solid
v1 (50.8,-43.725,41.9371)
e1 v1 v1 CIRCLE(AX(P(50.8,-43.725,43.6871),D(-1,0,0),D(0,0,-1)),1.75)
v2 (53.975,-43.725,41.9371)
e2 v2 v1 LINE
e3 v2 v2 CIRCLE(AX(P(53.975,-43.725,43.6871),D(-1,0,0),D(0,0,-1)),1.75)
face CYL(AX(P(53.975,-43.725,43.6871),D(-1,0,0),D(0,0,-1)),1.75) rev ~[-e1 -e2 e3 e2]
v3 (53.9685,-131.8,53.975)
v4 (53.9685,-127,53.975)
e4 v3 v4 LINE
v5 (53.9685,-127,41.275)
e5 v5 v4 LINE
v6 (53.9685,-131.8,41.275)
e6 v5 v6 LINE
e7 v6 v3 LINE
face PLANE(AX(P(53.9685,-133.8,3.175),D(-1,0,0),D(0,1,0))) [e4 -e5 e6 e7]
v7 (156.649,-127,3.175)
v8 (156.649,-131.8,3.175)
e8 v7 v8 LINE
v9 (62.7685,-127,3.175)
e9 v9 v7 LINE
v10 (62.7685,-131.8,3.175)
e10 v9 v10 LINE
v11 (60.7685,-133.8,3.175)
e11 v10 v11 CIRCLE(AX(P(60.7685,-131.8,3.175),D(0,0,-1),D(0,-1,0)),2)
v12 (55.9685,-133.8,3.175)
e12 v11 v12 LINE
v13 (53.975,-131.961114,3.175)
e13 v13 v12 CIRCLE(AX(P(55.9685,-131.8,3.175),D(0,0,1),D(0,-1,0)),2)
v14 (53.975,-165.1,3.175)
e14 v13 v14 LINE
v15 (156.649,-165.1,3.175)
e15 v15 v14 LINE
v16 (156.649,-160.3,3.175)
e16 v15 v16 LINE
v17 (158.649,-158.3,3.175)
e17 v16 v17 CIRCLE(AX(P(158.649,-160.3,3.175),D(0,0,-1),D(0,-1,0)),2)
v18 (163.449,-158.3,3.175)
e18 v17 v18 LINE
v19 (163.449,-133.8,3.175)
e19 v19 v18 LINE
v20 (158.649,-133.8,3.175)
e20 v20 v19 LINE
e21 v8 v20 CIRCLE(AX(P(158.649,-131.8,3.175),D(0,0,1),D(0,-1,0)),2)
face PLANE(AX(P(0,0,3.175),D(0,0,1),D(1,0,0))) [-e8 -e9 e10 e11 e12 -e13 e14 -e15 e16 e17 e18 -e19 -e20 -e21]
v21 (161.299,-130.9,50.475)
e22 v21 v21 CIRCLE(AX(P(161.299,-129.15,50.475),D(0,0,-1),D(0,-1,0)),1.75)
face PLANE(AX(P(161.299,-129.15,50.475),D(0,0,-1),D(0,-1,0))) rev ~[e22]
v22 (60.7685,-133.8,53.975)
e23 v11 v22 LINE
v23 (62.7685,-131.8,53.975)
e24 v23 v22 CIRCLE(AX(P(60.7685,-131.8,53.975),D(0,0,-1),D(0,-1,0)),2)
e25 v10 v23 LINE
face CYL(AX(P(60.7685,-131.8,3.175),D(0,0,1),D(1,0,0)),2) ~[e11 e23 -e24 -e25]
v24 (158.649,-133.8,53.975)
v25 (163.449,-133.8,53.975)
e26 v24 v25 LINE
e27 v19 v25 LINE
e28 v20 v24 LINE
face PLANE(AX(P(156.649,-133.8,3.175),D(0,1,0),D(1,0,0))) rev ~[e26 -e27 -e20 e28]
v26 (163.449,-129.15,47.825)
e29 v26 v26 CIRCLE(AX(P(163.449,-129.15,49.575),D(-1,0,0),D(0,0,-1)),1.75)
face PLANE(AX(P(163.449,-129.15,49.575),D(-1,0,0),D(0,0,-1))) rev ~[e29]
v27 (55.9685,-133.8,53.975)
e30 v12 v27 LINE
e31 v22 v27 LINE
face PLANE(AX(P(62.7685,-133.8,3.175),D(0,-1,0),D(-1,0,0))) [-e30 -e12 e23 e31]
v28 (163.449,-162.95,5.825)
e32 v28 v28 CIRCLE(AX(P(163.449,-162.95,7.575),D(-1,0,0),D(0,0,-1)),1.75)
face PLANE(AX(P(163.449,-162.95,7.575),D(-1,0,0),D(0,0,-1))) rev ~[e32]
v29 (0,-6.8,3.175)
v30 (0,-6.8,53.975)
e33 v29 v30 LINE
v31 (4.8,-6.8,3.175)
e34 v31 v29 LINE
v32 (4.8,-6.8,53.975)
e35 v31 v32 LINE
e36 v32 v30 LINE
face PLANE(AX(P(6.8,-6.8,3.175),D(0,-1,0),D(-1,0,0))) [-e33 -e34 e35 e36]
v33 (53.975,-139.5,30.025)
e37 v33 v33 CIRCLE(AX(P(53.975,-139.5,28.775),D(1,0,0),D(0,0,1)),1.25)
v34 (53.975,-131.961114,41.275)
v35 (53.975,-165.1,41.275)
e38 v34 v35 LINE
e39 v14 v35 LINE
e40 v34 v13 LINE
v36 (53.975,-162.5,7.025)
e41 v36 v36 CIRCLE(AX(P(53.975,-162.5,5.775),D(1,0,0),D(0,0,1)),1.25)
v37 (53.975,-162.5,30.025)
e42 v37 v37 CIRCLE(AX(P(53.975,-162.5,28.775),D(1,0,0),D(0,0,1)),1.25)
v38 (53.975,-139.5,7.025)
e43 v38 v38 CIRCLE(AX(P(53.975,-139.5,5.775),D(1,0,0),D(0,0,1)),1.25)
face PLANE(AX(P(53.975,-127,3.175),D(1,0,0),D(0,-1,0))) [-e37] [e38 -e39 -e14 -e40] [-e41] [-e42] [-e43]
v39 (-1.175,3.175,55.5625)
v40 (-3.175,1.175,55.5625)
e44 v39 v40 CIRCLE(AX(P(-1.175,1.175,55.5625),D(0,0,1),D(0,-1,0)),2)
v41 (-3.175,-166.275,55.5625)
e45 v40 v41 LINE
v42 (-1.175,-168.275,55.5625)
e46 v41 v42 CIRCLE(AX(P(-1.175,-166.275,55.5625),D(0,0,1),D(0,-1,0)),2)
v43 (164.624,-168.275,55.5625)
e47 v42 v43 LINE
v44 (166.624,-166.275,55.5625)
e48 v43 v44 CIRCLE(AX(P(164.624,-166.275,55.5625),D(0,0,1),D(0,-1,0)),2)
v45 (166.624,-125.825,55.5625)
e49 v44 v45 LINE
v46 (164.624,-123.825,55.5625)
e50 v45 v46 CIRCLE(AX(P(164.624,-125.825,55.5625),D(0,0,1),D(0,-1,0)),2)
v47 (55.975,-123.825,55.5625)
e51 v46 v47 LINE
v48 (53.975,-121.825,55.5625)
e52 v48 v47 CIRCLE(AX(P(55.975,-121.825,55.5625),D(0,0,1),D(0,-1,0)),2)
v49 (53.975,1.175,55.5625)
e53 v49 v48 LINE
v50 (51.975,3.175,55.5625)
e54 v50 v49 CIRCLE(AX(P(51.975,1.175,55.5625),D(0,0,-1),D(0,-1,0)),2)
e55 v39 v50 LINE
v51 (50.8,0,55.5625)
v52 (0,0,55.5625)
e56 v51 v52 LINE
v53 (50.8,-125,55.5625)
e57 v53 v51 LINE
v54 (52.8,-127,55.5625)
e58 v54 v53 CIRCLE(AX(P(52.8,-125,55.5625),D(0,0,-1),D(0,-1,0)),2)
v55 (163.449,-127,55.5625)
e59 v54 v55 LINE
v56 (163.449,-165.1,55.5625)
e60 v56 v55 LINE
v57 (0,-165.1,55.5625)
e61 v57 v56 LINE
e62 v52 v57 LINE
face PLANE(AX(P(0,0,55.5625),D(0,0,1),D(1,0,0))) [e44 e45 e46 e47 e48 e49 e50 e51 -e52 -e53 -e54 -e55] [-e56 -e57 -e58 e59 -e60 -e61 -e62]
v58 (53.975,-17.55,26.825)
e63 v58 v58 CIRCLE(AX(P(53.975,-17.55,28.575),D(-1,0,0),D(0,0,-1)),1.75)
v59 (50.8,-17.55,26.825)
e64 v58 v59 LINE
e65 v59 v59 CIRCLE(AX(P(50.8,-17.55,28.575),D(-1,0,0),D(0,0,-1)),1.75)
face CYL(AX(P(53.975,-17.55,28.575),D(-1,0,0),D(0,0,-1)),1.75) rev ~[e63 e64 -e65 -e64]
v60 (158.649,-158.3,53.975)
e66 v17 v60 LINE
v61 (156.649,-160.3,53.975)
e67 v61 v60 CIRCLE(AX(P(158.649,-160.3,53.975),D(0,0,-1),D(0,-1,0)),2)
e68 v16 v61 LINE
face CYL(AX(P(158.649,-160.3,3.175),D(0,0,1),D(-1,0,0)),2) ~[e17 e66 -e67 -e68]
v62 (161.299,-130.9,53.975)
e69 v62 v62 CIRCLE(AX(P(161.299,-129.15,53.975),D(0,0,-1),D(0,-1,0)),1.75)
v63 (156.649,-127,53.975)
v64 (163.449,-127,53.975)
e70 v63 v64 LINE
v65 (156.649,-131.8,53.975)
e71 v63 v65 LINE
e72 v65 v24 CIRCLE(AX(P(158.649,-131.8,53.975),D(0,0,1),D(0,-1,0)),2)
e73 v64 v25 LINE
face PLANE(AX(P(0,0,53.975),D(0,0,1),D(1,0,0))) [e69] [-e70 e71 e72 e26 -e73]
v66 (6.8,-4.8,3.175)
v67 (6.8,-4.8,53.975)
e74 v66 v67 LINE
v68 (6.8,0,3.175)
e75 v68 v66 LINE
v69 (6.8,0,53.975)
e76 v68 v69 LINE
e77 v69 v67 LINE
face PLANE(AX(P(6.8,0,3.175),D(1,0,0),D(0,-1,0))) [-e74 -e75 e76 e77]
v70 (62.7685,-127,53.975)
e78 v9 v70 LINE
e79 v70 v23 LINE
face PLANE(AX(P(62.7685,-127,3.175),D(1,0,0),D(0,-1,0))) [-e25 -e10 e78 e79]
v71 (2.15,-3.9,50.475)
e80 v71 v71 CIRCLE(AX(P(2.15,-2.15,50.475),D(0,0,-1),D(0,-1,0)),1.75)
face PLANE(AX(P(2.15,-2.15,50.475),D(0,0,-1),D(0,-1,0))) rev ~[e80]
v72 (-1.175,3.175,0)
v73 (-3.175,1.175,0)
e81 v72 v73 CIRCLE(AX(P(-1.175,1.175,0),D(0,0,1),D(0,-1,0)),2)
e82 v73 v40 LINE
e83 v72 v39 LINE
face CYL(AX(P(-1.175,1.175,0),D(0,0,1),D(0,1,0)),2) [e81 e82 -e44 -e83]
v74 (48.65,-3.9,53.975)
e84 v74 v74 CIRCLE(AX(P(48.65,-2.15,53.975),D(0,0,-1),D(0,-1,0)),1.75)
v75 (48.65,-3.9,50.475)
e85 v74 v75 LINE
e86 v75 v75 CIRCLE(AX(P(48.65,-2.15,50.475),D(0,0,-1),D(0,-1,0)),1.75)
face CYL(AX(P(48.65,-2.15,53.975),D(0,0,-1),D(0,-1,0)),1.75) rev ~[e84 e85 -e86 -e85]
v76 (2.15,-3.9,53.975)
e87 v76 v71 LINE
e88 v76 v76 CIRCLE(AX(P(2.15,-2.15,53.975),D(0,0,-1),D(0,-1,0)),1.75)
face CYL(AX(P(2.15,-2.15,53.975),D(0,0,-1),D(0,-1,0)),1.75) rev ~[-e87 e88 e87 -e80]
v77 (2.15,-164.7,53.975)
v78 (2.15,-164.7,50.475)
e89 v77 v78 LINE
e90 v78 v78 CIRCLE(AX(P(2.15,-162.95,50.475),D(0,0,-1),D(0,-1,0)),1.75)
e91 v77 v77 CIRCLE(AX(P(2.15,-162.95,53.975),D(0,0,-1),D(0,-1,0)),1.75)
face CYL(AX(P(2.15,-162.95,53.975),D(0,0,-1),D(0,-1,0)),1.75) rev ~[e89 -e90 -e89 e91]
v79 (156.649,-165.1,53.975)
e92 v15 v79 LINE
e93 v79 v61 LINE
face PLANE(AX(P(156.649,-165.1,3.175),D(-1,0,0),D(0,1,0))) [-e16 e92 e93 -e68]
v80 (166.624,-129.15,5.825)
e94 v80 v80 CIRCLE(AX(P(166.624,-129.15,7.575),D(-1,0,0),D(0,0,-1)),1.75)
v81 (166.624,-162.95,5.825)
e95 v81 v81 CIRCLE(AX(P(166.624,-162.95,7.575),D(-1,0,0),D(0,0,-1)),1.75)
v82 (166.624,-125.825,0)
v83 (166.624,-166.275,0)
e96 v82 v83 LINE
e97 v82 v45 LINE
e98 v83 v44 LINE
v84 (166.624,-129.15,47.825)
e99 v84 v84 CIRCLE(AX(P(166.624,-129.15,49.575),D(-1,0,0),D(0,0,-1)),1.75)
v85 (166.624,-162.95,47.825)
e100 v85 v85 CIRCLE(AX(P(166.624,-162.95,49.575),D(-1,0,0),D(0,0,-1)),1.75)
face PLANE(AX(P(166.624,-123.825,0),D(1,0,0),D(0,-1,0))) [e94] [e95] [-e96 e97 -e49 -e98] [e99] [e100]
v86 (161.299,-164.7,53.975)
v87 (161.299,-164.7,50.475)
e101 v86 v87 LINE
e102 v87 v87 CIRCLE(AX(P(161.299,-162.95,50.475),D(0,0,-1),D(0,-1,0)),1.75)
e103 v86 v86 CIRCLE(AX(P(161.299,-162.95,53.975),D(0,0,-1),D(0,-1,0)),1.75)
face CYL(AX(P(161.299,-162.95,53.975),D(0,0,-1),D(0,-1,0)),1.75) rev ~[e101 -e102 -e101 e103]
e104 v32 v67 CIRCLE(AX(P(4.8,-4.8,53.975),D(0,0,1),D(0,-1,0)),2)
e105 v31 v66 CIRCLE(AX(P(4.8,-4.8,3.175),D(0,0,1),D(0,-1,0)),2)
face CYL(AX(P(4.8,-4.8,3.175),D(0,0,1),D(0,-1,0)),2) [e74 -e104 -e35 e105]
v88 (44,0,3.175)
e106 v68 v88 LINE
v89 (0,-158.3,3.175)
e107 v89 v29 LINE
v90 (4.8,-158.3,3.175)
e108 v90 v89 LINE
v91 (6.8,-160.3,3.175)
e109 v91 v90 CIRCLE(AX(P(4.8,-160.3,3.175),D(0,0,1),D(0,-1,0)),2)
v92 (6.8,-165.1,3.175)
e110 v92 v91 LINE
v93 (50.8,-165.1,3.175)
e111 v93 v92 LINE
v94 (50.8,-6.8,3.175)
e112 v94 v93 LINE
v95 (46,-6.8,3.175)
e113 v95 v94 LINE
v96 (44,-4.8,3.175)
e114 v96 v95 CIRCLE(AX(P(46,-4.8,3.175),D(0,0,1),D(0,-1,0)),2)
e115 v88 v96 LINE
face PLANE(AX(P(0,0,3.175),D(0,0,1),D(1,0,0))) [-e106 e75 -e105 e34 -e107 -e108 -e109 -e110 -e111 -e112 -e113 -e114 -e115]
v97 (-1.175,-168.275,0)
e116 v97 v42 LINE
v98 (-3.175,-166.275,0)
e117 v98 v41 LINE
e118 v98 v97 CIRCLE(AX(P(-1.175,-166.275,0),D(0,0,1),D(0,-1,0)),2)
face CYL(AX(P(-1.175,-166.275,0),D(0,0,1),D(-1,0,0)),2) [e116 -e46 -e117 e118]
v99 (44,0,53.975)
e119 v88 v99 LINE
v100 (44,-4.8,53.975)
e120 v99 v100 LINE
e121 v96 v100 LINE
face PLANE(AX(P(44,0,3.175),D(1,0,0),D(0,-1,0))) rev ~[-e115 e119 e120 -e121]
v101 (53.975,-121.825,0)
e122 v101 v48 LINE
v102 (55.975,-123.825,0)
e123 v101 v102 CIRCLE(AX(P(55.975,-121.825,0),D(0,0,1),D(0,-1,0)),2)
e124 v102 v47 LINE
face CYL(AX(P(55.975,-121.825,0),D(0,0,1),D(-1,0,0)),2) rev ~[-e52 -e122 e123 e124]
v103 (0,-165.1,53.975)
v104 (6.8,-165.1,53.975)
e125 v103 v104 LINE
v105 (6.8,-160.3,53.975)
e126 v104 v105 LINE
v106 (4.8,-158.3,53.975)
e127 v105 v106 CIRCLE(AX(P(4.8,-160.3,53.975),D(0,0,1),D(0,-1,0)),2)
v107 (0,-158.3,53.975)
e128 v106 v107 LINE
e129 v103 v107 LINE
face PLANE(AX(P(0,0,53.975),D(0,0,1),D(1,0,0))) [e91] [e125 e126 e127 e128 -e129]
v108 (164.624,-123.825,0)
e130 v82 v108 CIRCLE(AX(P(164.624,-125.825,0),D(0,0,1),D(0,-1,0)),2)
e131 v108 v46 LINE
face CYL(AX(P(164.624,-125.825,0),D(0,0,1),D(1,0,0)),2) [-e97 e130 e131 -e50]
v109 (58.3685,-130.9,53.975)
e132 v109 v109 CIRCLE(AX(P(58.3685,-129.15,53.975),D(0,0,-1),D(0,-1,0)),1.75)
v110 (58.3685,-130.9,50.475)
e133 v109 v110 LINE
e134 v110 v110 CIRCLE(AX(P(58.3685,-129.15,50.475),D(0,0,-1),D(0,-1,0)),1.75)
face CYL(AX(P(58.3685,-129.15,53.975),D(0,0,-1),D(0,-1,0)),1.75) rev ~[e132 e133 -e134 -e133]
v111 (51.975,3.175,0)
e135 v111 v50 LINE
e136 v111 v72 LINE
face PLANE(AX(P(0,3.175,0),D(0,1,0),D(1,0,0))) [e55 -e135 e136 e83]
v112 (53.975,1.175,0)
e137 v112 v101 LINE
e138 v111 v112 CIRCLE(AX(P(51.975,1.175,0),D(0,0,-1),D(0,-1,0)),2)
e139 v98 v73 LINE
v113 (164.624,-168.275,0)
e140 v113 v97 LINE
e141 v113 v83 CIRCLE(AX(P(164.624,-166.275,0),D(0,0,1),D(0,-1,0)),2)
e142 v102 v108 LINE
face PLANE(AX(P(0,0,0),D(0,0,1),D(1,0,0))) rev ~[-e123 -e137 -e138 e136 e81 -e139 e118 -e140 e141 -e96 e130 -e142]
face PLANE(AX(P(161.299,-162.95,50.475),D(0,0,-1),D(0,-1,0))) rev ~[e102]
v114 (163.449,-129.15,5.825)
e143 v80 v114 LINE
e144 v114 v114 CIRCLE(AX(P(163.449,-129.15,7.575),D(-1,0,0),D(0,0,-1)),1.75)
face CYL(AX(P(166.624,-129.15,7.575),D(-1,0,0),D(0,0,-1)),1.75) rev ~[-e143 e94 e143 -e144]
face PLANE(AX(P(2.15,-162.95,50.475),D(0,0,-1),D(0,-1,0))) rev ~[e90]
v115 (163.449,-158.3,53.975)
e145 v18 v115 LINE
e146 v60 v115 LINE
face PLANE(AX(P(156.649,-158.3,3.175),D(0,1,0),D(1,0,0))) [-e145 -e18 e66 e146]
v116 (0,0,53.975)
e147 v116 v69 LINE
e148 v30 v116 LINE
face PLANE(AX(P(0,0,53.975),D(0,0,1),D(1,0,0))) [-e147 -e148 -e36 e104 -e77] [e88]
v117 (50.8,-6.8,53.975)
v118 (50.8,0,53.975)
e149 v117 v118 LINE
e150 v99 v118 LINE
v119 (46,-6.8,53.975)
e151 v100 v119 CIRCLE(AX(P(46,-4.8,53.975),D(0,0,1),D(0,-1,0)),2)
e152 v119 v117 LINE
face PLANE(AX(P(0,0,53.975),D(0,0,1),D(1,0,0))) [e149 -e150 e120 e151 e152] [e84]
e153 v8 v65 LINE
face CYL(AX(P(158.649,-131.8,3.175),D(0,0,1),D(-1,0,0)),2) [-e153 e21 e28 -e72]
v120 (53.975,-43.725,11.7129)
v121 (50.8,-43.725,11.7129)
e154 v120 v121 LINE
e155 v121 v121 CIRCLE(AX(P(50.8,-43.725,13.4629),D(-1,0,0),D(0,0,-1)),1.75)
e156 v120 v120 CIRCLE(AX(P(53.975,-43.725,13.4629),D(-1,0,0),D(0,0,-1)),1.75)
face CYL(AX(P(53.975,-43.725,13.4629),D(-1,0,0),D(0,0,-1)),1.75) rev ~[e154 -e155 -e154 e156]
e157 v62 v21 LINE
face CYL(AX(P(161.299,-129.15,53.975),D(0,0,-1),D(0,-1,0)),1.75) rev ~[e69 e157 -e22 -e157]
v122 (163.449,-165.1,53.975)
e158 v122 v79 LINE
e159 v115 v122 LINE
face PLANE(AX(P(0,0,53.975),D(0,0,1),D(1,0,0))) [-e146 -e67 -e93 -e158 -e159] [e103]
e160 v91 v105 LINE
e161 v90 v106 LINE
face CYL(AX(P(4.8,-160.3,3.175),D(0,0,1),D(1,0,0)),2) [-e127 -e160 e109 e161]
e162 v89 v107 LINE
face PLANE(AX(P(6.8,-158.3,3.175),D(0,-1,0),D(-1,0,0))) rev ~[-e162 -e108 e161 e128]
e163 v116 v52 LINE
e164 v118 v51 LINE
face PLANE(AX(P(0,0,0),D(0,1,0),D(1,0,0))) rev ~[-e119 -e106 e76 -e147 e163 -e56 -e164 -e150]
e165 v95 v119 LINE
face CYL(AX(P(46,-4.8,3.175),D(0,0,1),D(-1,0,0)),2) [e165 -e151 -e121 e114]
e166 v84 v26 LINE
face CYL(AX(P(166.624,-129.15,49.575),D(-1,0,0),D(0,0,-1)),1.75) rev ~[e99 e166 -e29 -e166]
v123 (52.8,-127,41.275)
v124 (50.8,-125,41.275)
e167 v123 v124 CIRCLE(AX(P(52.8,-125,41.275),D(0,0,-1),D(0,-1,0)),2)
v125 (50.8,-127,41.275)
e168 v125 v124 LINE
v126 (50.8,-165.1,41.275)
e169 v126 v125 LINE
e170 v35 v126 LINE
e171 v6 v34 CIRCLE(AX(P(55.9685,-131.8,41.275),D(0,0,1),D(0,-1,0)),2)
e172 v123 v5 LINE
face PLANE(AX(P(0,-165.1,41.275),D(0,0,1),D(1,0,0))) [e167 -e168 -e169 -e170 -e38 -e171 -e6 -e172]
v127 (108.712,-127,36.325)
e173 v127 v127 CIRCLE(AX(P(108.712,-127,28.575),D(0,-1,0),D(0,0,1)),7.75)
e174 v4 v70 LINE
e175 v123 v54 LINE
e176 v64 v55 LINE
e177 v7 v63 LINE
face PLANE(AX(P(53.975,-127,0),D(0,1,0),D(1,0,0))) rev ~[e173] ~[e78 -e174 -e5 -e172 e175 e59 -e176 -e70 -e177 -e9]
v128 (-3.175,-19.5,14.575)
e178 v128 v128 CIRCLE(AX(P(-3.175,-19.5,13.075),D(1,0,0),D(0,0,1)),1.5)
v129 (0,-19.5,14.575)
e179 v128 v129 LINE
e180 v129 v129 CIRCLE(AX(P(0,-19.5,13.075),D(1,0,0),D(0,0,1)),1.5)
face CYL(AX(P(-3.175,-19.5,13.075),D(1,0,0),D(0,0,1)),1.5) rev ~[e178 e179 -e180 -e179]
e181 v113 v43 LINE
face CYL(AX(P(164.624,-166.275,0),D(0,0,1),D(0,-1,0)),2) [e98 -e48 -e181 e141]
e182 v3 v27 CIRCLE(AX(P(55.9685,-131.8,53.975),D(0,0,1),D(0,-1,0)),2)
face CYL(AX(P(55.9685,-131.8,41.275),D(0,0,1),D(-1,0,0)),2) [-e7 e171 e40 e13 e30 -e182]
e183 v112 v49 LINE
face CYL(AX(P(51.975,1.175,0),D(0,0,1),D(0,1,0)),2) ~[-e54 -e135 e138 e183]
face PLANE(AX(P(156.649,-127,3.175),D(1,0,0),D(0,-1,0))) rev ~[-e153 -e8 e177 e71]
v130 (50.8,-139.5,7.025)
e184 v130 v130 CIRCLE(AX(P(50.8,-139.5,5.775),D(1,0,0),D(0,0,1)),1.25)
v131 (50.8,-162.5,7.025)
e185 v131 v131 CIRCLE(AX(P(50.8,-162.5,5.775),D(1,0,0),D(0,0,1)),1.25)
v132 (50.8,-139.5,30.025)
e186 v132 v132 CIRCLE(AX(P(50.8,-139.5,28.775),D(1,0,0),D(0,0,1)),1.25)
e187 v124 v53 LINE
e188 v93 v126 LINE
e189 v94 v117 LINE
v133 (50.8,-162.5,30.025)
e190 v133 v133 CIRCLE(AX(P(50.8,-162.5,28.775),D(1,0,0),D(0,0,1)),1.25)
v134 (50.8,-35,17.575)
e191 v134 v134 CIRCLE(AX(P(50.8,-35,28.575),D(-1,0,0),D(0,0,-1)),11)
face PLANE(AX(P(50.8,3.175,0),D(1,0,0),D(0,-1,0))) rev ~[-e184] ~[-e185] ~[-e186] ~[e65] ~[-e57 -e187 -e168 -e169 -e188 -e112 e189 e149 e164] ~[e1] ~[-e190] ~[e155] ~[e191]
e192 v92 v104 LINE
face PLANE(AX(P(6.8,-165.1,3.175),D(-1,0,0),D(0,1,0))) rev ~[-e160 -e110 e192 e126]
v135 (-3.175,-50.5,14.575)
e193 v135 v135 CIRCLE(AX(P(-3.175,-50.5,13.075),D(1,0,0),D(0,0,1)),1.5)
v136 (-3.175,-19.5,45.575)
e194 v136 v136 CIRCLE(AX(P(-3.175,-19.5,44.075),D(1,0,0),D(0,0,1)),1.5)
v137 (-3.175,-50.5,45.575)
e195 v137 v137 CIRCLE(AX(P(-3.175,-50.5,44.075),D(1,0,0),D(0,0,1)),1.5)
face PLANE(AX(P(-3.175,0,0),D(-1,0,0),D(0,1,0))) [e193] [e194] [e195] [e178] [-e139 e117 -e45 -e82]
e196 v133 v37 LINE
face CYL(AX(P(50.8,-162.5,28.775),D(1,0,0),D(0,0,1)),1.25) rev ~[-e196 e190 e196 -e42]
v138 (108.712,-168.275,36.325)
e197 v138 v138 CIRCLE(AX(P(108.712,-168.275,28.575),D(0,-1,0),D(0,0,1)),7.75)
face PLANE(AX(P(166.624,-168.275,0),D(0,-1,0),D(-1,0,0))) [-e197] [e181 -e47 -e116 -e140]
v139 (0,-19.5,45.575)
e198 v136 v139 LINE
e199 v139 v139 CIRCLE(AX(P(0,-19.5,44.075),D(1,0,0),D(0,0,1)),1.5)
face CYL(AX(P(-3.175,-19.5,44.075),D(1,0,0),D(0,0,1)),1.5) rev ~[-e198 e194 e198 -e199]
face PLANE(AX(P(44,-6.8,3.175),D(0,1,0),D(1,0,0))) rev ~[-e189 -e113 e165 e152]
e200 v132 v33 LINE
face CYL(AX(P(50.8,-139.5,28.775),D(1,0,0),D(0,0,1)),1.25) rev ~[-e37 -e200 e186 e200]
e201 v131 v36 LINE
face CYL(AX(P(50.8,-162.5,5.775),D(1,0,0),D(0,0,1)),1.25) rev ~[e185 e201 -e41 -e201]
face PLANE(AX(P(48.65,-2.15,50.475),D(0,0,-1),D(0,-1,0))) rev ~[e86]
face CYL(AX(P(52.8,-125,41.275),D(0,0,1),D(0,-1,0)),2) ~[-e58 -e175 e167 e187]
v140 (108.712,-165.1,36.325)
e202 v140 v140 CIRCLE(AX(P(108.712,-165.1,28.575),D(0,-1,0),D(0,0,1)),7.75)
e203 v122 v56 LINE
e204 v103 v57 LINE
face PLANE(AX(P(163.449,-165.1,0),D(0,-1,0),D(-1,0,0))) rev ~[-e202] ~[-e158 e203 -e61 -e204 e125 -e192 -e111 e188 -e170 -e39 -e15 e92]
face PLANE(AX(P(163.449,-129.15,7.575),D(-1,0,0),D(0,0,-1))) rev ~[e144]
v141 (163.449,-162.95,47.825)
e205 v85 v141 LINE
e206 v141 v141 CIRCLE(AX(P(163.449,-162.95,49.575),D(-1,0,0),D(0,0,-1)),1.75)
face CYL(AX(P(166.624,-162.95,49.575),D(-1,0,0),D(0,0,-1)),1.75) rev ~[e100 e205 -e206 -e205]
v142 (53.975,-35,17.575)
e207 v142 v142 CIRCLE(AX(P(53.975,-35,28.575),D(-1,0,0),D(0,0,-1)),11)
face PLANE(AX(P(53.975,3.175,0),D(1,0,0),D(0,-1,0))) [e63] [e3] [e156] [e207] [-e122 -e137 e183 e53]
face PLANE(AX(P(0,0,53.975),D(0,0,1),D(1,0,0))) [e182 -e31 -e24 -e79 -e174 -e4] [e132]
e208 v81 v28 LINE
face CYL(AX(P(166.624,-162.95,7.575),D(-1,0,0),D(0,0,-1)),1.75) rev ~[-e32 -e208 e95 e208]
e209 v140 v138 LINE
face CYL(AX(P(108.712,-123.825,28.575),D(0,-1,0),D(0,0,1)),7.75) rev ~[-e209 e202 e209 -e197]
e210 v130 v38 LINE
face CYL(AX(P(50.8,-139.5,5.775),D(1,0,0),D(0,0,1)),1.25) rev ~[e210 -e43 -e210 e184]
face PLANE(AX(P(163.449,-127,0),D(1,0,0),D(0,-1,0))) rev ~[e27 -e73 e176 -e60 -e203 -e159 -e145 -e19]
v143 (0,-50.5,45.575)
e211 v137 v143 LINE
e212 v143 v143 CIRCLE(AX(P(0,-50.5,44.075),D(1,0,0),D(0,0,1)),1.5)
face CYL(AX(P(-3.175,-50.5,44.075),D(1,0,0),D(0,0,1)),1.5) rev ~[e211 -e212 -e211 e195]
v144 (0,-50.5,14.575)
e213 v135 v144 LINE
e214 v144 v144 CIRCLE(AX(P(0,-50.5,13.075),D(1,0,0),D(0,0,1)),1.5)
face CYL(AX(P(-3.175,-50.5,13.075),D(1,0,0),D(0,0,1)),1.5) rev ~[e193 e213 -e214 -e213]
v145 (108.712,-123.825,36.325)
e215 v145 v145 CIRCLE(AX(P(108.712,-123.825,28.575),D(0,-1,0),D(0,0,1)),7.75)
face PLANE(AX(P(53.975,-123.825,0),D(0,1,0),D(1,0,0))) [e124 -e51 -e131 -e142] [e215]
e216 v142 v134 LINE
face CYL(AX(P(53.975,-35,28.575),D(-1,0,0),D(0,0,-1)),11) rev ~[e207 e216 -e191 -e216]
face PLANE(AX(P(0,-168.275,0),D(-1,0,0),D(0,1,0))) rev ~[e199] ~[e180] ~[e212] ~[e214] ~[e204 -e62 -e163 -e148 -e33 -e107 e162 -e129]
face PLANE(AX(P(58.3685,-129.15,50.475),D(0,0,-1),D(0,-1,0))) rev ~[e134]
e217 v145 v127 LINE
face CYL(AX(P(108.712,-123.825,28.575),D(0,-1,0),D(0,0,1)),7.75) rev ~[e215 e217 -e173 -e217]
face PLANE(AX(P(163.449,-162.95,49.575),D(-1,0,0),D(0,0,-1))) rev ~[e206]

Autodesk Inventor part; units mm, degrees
ref_plane "YZ Plane" through (0, 0, 0) normal (1, 0, 0) x (0, 1, 0)
ref_plane "XZ Plane" through (0, 0, 0) normal (0, 1, 0) x (-1, 0, 0)
ref_plane "XY Plane" through (0, 0, 0) normal (0, 0, 1) x (1, 0, 0)
sketch "Sketch2" plane through (0, 0, 0) normal (0, 0, 1) x (1, 0, 0)
  line L0 (0, 0) -> (0, 3.175)
  line L1 (0, 3.175) -> (50.8, 3.175)
  line L2 (50.8, 3.175) -> (53.975, 3.175)
  line L3 (53.975, 3.175) -> (53.975, -123.825)
  line L4 (53.975, -123.825) -> (108.712, -123.825)
  line L5 (108.712, -123.825) -> (163.449, -123.825)
  line L6 (163.449, -123.825) -> (166.624, -123.825)
  line L7 (166.624, -123.825) -> (166.624, -127)
  line L8 (166.624, -127) -> (166.624, -165.1)
  line L9 (166.624, -165.1) -> (166.624, -168.275)
  line L10 (166.624, -168.275) -> (163.449, -168.275)
  line L11 (163.449, -168.275) -> (0, -168.275)
  line L12 (0, -168.275) -> (-3.175, -168.275)
  line L13 (-3.175, -168.275) -> (-3.175, 0)
  line L14 (-3.175, 0) -> (-3.175, 3.175)
  line L15 (-3.175, 3.175) -> (0, 3.175)
  dimension "d6" = 3.175
  dimension "d13" = 3.175
  dimension "d16" = 3.175
extrude "Extrusion1" add sketch "Sketch2" along normal blind 55.5625
shell "Shell1" thickness 3.175 removed faces 1 at (15.875, -97.3667, 55.5625)
sketch "Sketch3" plane through (0, -165.1, 3.175) normal (0, 0, 1) x (1, 0, 0)
  line L0 (50.8, 38.1) -> (163.449, 38.1) projected
  line L1 (163.449, 0) -> (0, 0) projected
  line L2 (50.8, 38.1) -> (53.975, 38.1)
  line L3 (53.975, 38.1) -> (53.975, 0)
  line L4 (53.975, 0) -> (50.8, 0)
  line L5 (50.8, 0) -> (50.8, 38.1)
  point P0 (0, 165.1)
  dimension "d21" = 3.175
extrude "Extrusion2" add sketch "Sketch3" along normal blind 38.1
sketch "Sketch4" plane through (0, 0, 3.175) normal (0, 0, 1) x (1, 0, 0)
  line L0 (0, 0) -> (50.8, 0) projected
  line L1 (0, 0) -> (6.8, 0)
  line L2 (6.8, 0) -> (6.8, -6.8)
  line L3 (6.8, -6.8) -> (0, -6.8)
  line L4 (0, -6.8) -> (0, 0)
  line L5 (50.8, 0) -> (44, 0)
  line L6 (44, 0) -> (44, -6.8)
  line L7 (44, -6.8) -> (50.8, -6.8)
  line L8 (50.8, -6.8) -> (50.8, 0)
  line L9 (0, -165.1) -> (0, 0) projected
  line L10 (0, -165.1) -> (6.8, -165.1)
  line L11 (6.8, -165.1) -> (6.8, -158.3)
  line L12 (6.8, -158.3) -> (0, -158.3)
  line L13 (0, -158.3) -> (0, -165.1)
  line L14 (50.8, -127) -> (163.449, -127) projected
  line L15 (53.9685, -127) -> (62.7685, -127)
  line L16 (62.7685, -127) -> (62.7685, -133.8)
  line L17 (62.7685, -133.8) -> (53.9685, -133.8)
  line L18 (53.9685, -133.8) -> (53.9685, -127)
  line L19 (163.449, -127) -> (163.449, -165.1) projected
  line L20 (163.449, -127) -> (156.649, -127)
  line L21 (156.649, -127) -> (156.649, -133.8)
  line L22 (156.649, -133.8) -> (163.449, -133.8)
  line L23 (163.449, -133.8) -> (163.449, -127)
  line L24 (163.449, -165.1) -> (156.649, -165.1)
  line L25 (156.649, -165.1) -> (156.649, -158.3)
  line L26 (156.649, -158.3) -> (163.449, -158.3)
  line L27 (163.449, -158.3) -> (163.449, -165.1)
extrude "Extrusion3" add sketch "Sketch4" along normal blind 50.8
sketch "Sketch5" plane through (0, 0, 53.975) normal (0, 0, 1) x (1, 0, 0)
  line L0 (0, -165.1) -> (0, 0) projected
  line L1 (0, 0) -> (2.15, 0)
  line L2 (2.15, 0) -> (2.15, -2.15)
  line L3 (2.15, -2.15) -> (0, -2.15)
  line L4 (0, -2.15) -> (0, 0)
  line L5 (50.8, 0) -> (50.8, -127) projected
  line L6 (50.8, 0) -> (48.65, 0)
  line L7 (48.65, 0) -> (48.65, -2.15)
  line L8 (48.65, -2.15) -> (50.8, -2.15)
  line L9 (50.8, -2.15) -> (50.8, 0)
  line L10 (163.449, -165.1) -> (0, -165.1) projected
  line L11 (0, -165.1) -> (2.15, -165.1)
  line L12 (2.15, -165.1) -> (2.15, -162.95)
  line L13 (2.15, -162.95) -> (0, -162.95)
  line L14 (0, -162.95) -> (0, -165.1)
  line L15 (53.9685, -127) -> (53.9685, -133.8) projected
  line L16 (53.9685, -127) -> (58.3685, -127)
  line L17 (62.7685, -133.8) -> (62.7685, -127) projected
  line L18 (58.3685, -127) -> (58.3685, -129.15)
  line L19 (50.8, -127) -> (163.449, -127) projected
  line L20 (163.449, -127) -> (161.299, -127)
  line L21 (161.299, -127) -> (161.299, -129.15)
  line L22 (161.299, -129.15) -> (163.449, -129.15)
  line L23 (163.449, -129.15) -> (163.449, -127)
  line L24 (163.449, -127) -> (163.449, -165.1) projected
  line L25 (163.449, -165.1) -> (161.299, -165.1)
  line L26 (161.299, -165.1) -> (161.299, -162.95)
  line L27 (161.299, -162.95) -> (163.449, -162.95)
  line L28 (163.449, -162.95) -> (163.449, -165.1)
hole "Hole1" at (2.15, -2.15, 53.975) at (48.65, -2.15, 53.975) at (2.15, -162.95, 53.975) at (58.3685, -129.15, 53.975) at (161.299, -129.15, 53.975) at (161.299, -162.95, 53.975) direction (0, 0, -1) diameter 3.5 depth 3.5
fillet "Fillet1" radius 2 5 edges at (53.975, 3.175, 27.7812) (166.624, -123.825, 27.7812) (166.624, -168.275, 27.7812) (-3.175, -168.275, 27.7812) (-3.175, 3.175, 27.7812)
fillet "Fillet2" radius 2 7 edges at (6.8, -158.3, 28.575) (6.8, -6.8, 28.575) (44, -6.8, 28.575) (62.7685, -133.8, 28.575) (53.9685, -133.8, 47.625) (156.649, -158.3, 28.575) (156.649, -133.8, 28.575)
sketch "Sketch6" plane through (53.975, -123.825, 55.5625) normal (1, 0, 0) x (0, 0, -1)
  line L0 (52.3875, 123.825) -> (1.5875, 123.825) projected
  line L1 (52.3875, 123.825) -> (52.3875, 88.825)
  line L2 (52.3875, -34.475) -> (52.3875, 117.025) projected
  line L3 (52.3875, 88.825) -> (26.9875, 88.825)
  line L4 (0, 123.825) -> (0, -3.175) projected
  point P0 (55.5625, 123.825)
  dimension "d58" = 35
  dimension "d59" = 25.4
hole "Hole2" at (53.975, -35, 28.575) direction (-1, 0, 0) diameter 22 depth 3.175
sketch "Sketch7" plane through (53.975, -123.825, 55.5625) normal (0, 1, 0) x (1, 0, 0)
  line L0 (0, 52.3875) -> (0, 14.2875) projected
  line L1 (0, 52.3875) -> (54.737, 52.3875)
  line L2 (102.674, 52.3875) -> (0, 52.3875) projected
  line L3 (54.737, 52.3875) -> (54.737, 26.9875)
  point P0 (-53.975, 55.5625)
  dimension "d67" = 54.737
  dimension "d68" = 25.4
hole "Hole3" at (108.712, -123.825, 28.575) direction (0, -1, 0) diameter 15.5 end through all
sketch "Sketch8" plane through (53.975, -123.825, 55.5625) normal (1, 0, 0) x (0, 0, -1)
  circle A0 centre (26.9875, 88.825) radius 11 projected
  line L0 (26.9875, 88.825) -> (26.9875, 106.275)
  line L1 (26.9875, 88.825) -> (42.0996, 80.1)
  line L2 (26.9875, 88.825) -> (44.4375, 88.825) construction
  line L3 (26.9875, 88.825) -> (11.8754, 80.1)
  line L4 (26.9875, 88.825) -> (44.4375, 88.825) construction
  point P0 (55.5625, 123.825)
  dimension "d76" = 17.45
  dimension "d77" = 17.45
  dimension "d78" = 30
  dimension "d79" = 17.45
  dimension "d80" = 150
hole "Hole4" at (53.975, -17.55, 28.575) at (53.975, -43.725, 13.4629) at (53.975, -43.725, 43.6871) direction (-1, 0, 0) diameter 3.5 depth 3.175
sketch "Sketch9" plane through (-3.175, -166.275, 0) normal (-1, 0, 0) x (0, 0, 1)
  circle A0 centre (28.575, 131.275) radius 11 projected
  line L0 (28.575, 146.775) -> (13.075, 146.775)
  line L1 (13.075, 146.775) -> (44.075, 146.775)
  line L2 (44.075, 146.775) -> (44.075, 115.775)
  line L3 (44.075, 115.775) -> (13.075, 115.775)
  line L4 (13.075, 115.775) -> (13.075, 146.775)
  point P0 (0, 166.275)
  dimension "d90" = 31
  dimension "d91" = 31
hole "Hole5" at (-3.175, -50.5, 13.075) at (-3.175, -19.5, 13.075) at (-3.175, -19.5, 44.075) at (-3.175, -50.5, 44.075) direction (1, 0, 0) diameter 3 depth 3.175
sketch "Sketch10" plane through (50.8, -127, 55.5625) normal (-1, 0, 0) x (0, 0, 1)
  line L0 (-14.2875, -38.1) -> (-52.3875, -38.1) projected
  line L1 (-52.3875, -38.1) -> (-38.2875, -38.1)
  line L2 (-38.2875, -38.1) -> (-38.2875, -24)
  line L3 (-38.2875, -24) -> (-38.2875, -12.5)
  line L4 (-38.2875, -12.5) -> (-49.7875, -12.5)
  line L5 (-49.7875, -12.5) -> (-26.7875, -12.5)
  line L6 (-26.7875, -12.5) -> (-26.7875, -35.5)
  line L7 (-26.7875, -35.5) -> (-49.7875, -35.5)
  line L8 (-49.7875, -35.5) -> (-49.7875, -12.5)
  point P0 (-55.5625, 127)
  dimension "d99" = 14.1
  dimension "d100" = 14.1
  dimension "d101" = 11.5
  dimension "d102" = 11.5
  dimension "d103" = 23
  dimension "d104" = 23
hole "Hole6" at (50.8, -139.5, 5.775) at (50.8, -139.5, 28.775) at (50.8, -162.5, 28.775) at (50.8, -162.5, 5.775) direction (1, 0, 0) diameter 2.5 depth 3.175
sketch "Sketch11" plane through (166.624, -166.275, 0) normal (1, 0, 0) x (0, 0, -1)
  line L0 (-53.975, 39.275) -> (-53.975, 34.475) projected
  line L1 (-53.975, 39.275) -> (-49.575, 39.275)
  line L2 (-3.175, 39.275) -> (-53.975, 39.275) projected
  line L3 (-49.575, 39.275) -> (-49.575, 37.125)
  line L4 (-50.475, 38.875) -> (-50.475, 35.375) projected
  line L5 (-3.175, 34.475) -> (-3.175, 39.275) projected
  line L6 (-3.175, 39.275) -> (-7.575, 39.275)
  line L7 (-7.575, 39.275) -> (-7.575, 37.125)
  line L8 (-53.975, 1.175) -> (-3.175, 1.175) projected
  line L9 (-53.975, 1.175) -> (-49.575, 1.175)
  line L10 (-49.575, 1.175) -> (-49.575, 3.325)
  line L11 (-3.175, 1.175) -> (-3.175, 5.975) projected
  line L12 (-3.175, 1.175) -> (-7.575, 1.175)
  line L13 (-7.575, 1.175) -> (-7.575, 3.325)
  point P0 (0, 166.275)
  dimension "d112" = 4.4
  dimension "d113" = 2.15
  dimension "d114" = 90
  dimension "d115" = 4.4
  dimension "d116" = 2.15
  dimension "d117" = 4.4
  dimension "d118" = 2.15
  dimension "d119" = 4.4
  dimension "d120" = 2.15
hole "Hole7" at (166.624, -129.15, 49.575) at (166.624, -129.15, 7.575) at (166.624, -162.95, 49.575) at (166.624, -162.95, 7.575) direction (-1, 0, 0) diameter 3.5 depth 3.175
fillet "Fillet3" radius 2 2 edges at (50.8, -127, 48.4188) (53.975, -123.825, 27.7812)
properties part number "Main Lidar Body-01"
